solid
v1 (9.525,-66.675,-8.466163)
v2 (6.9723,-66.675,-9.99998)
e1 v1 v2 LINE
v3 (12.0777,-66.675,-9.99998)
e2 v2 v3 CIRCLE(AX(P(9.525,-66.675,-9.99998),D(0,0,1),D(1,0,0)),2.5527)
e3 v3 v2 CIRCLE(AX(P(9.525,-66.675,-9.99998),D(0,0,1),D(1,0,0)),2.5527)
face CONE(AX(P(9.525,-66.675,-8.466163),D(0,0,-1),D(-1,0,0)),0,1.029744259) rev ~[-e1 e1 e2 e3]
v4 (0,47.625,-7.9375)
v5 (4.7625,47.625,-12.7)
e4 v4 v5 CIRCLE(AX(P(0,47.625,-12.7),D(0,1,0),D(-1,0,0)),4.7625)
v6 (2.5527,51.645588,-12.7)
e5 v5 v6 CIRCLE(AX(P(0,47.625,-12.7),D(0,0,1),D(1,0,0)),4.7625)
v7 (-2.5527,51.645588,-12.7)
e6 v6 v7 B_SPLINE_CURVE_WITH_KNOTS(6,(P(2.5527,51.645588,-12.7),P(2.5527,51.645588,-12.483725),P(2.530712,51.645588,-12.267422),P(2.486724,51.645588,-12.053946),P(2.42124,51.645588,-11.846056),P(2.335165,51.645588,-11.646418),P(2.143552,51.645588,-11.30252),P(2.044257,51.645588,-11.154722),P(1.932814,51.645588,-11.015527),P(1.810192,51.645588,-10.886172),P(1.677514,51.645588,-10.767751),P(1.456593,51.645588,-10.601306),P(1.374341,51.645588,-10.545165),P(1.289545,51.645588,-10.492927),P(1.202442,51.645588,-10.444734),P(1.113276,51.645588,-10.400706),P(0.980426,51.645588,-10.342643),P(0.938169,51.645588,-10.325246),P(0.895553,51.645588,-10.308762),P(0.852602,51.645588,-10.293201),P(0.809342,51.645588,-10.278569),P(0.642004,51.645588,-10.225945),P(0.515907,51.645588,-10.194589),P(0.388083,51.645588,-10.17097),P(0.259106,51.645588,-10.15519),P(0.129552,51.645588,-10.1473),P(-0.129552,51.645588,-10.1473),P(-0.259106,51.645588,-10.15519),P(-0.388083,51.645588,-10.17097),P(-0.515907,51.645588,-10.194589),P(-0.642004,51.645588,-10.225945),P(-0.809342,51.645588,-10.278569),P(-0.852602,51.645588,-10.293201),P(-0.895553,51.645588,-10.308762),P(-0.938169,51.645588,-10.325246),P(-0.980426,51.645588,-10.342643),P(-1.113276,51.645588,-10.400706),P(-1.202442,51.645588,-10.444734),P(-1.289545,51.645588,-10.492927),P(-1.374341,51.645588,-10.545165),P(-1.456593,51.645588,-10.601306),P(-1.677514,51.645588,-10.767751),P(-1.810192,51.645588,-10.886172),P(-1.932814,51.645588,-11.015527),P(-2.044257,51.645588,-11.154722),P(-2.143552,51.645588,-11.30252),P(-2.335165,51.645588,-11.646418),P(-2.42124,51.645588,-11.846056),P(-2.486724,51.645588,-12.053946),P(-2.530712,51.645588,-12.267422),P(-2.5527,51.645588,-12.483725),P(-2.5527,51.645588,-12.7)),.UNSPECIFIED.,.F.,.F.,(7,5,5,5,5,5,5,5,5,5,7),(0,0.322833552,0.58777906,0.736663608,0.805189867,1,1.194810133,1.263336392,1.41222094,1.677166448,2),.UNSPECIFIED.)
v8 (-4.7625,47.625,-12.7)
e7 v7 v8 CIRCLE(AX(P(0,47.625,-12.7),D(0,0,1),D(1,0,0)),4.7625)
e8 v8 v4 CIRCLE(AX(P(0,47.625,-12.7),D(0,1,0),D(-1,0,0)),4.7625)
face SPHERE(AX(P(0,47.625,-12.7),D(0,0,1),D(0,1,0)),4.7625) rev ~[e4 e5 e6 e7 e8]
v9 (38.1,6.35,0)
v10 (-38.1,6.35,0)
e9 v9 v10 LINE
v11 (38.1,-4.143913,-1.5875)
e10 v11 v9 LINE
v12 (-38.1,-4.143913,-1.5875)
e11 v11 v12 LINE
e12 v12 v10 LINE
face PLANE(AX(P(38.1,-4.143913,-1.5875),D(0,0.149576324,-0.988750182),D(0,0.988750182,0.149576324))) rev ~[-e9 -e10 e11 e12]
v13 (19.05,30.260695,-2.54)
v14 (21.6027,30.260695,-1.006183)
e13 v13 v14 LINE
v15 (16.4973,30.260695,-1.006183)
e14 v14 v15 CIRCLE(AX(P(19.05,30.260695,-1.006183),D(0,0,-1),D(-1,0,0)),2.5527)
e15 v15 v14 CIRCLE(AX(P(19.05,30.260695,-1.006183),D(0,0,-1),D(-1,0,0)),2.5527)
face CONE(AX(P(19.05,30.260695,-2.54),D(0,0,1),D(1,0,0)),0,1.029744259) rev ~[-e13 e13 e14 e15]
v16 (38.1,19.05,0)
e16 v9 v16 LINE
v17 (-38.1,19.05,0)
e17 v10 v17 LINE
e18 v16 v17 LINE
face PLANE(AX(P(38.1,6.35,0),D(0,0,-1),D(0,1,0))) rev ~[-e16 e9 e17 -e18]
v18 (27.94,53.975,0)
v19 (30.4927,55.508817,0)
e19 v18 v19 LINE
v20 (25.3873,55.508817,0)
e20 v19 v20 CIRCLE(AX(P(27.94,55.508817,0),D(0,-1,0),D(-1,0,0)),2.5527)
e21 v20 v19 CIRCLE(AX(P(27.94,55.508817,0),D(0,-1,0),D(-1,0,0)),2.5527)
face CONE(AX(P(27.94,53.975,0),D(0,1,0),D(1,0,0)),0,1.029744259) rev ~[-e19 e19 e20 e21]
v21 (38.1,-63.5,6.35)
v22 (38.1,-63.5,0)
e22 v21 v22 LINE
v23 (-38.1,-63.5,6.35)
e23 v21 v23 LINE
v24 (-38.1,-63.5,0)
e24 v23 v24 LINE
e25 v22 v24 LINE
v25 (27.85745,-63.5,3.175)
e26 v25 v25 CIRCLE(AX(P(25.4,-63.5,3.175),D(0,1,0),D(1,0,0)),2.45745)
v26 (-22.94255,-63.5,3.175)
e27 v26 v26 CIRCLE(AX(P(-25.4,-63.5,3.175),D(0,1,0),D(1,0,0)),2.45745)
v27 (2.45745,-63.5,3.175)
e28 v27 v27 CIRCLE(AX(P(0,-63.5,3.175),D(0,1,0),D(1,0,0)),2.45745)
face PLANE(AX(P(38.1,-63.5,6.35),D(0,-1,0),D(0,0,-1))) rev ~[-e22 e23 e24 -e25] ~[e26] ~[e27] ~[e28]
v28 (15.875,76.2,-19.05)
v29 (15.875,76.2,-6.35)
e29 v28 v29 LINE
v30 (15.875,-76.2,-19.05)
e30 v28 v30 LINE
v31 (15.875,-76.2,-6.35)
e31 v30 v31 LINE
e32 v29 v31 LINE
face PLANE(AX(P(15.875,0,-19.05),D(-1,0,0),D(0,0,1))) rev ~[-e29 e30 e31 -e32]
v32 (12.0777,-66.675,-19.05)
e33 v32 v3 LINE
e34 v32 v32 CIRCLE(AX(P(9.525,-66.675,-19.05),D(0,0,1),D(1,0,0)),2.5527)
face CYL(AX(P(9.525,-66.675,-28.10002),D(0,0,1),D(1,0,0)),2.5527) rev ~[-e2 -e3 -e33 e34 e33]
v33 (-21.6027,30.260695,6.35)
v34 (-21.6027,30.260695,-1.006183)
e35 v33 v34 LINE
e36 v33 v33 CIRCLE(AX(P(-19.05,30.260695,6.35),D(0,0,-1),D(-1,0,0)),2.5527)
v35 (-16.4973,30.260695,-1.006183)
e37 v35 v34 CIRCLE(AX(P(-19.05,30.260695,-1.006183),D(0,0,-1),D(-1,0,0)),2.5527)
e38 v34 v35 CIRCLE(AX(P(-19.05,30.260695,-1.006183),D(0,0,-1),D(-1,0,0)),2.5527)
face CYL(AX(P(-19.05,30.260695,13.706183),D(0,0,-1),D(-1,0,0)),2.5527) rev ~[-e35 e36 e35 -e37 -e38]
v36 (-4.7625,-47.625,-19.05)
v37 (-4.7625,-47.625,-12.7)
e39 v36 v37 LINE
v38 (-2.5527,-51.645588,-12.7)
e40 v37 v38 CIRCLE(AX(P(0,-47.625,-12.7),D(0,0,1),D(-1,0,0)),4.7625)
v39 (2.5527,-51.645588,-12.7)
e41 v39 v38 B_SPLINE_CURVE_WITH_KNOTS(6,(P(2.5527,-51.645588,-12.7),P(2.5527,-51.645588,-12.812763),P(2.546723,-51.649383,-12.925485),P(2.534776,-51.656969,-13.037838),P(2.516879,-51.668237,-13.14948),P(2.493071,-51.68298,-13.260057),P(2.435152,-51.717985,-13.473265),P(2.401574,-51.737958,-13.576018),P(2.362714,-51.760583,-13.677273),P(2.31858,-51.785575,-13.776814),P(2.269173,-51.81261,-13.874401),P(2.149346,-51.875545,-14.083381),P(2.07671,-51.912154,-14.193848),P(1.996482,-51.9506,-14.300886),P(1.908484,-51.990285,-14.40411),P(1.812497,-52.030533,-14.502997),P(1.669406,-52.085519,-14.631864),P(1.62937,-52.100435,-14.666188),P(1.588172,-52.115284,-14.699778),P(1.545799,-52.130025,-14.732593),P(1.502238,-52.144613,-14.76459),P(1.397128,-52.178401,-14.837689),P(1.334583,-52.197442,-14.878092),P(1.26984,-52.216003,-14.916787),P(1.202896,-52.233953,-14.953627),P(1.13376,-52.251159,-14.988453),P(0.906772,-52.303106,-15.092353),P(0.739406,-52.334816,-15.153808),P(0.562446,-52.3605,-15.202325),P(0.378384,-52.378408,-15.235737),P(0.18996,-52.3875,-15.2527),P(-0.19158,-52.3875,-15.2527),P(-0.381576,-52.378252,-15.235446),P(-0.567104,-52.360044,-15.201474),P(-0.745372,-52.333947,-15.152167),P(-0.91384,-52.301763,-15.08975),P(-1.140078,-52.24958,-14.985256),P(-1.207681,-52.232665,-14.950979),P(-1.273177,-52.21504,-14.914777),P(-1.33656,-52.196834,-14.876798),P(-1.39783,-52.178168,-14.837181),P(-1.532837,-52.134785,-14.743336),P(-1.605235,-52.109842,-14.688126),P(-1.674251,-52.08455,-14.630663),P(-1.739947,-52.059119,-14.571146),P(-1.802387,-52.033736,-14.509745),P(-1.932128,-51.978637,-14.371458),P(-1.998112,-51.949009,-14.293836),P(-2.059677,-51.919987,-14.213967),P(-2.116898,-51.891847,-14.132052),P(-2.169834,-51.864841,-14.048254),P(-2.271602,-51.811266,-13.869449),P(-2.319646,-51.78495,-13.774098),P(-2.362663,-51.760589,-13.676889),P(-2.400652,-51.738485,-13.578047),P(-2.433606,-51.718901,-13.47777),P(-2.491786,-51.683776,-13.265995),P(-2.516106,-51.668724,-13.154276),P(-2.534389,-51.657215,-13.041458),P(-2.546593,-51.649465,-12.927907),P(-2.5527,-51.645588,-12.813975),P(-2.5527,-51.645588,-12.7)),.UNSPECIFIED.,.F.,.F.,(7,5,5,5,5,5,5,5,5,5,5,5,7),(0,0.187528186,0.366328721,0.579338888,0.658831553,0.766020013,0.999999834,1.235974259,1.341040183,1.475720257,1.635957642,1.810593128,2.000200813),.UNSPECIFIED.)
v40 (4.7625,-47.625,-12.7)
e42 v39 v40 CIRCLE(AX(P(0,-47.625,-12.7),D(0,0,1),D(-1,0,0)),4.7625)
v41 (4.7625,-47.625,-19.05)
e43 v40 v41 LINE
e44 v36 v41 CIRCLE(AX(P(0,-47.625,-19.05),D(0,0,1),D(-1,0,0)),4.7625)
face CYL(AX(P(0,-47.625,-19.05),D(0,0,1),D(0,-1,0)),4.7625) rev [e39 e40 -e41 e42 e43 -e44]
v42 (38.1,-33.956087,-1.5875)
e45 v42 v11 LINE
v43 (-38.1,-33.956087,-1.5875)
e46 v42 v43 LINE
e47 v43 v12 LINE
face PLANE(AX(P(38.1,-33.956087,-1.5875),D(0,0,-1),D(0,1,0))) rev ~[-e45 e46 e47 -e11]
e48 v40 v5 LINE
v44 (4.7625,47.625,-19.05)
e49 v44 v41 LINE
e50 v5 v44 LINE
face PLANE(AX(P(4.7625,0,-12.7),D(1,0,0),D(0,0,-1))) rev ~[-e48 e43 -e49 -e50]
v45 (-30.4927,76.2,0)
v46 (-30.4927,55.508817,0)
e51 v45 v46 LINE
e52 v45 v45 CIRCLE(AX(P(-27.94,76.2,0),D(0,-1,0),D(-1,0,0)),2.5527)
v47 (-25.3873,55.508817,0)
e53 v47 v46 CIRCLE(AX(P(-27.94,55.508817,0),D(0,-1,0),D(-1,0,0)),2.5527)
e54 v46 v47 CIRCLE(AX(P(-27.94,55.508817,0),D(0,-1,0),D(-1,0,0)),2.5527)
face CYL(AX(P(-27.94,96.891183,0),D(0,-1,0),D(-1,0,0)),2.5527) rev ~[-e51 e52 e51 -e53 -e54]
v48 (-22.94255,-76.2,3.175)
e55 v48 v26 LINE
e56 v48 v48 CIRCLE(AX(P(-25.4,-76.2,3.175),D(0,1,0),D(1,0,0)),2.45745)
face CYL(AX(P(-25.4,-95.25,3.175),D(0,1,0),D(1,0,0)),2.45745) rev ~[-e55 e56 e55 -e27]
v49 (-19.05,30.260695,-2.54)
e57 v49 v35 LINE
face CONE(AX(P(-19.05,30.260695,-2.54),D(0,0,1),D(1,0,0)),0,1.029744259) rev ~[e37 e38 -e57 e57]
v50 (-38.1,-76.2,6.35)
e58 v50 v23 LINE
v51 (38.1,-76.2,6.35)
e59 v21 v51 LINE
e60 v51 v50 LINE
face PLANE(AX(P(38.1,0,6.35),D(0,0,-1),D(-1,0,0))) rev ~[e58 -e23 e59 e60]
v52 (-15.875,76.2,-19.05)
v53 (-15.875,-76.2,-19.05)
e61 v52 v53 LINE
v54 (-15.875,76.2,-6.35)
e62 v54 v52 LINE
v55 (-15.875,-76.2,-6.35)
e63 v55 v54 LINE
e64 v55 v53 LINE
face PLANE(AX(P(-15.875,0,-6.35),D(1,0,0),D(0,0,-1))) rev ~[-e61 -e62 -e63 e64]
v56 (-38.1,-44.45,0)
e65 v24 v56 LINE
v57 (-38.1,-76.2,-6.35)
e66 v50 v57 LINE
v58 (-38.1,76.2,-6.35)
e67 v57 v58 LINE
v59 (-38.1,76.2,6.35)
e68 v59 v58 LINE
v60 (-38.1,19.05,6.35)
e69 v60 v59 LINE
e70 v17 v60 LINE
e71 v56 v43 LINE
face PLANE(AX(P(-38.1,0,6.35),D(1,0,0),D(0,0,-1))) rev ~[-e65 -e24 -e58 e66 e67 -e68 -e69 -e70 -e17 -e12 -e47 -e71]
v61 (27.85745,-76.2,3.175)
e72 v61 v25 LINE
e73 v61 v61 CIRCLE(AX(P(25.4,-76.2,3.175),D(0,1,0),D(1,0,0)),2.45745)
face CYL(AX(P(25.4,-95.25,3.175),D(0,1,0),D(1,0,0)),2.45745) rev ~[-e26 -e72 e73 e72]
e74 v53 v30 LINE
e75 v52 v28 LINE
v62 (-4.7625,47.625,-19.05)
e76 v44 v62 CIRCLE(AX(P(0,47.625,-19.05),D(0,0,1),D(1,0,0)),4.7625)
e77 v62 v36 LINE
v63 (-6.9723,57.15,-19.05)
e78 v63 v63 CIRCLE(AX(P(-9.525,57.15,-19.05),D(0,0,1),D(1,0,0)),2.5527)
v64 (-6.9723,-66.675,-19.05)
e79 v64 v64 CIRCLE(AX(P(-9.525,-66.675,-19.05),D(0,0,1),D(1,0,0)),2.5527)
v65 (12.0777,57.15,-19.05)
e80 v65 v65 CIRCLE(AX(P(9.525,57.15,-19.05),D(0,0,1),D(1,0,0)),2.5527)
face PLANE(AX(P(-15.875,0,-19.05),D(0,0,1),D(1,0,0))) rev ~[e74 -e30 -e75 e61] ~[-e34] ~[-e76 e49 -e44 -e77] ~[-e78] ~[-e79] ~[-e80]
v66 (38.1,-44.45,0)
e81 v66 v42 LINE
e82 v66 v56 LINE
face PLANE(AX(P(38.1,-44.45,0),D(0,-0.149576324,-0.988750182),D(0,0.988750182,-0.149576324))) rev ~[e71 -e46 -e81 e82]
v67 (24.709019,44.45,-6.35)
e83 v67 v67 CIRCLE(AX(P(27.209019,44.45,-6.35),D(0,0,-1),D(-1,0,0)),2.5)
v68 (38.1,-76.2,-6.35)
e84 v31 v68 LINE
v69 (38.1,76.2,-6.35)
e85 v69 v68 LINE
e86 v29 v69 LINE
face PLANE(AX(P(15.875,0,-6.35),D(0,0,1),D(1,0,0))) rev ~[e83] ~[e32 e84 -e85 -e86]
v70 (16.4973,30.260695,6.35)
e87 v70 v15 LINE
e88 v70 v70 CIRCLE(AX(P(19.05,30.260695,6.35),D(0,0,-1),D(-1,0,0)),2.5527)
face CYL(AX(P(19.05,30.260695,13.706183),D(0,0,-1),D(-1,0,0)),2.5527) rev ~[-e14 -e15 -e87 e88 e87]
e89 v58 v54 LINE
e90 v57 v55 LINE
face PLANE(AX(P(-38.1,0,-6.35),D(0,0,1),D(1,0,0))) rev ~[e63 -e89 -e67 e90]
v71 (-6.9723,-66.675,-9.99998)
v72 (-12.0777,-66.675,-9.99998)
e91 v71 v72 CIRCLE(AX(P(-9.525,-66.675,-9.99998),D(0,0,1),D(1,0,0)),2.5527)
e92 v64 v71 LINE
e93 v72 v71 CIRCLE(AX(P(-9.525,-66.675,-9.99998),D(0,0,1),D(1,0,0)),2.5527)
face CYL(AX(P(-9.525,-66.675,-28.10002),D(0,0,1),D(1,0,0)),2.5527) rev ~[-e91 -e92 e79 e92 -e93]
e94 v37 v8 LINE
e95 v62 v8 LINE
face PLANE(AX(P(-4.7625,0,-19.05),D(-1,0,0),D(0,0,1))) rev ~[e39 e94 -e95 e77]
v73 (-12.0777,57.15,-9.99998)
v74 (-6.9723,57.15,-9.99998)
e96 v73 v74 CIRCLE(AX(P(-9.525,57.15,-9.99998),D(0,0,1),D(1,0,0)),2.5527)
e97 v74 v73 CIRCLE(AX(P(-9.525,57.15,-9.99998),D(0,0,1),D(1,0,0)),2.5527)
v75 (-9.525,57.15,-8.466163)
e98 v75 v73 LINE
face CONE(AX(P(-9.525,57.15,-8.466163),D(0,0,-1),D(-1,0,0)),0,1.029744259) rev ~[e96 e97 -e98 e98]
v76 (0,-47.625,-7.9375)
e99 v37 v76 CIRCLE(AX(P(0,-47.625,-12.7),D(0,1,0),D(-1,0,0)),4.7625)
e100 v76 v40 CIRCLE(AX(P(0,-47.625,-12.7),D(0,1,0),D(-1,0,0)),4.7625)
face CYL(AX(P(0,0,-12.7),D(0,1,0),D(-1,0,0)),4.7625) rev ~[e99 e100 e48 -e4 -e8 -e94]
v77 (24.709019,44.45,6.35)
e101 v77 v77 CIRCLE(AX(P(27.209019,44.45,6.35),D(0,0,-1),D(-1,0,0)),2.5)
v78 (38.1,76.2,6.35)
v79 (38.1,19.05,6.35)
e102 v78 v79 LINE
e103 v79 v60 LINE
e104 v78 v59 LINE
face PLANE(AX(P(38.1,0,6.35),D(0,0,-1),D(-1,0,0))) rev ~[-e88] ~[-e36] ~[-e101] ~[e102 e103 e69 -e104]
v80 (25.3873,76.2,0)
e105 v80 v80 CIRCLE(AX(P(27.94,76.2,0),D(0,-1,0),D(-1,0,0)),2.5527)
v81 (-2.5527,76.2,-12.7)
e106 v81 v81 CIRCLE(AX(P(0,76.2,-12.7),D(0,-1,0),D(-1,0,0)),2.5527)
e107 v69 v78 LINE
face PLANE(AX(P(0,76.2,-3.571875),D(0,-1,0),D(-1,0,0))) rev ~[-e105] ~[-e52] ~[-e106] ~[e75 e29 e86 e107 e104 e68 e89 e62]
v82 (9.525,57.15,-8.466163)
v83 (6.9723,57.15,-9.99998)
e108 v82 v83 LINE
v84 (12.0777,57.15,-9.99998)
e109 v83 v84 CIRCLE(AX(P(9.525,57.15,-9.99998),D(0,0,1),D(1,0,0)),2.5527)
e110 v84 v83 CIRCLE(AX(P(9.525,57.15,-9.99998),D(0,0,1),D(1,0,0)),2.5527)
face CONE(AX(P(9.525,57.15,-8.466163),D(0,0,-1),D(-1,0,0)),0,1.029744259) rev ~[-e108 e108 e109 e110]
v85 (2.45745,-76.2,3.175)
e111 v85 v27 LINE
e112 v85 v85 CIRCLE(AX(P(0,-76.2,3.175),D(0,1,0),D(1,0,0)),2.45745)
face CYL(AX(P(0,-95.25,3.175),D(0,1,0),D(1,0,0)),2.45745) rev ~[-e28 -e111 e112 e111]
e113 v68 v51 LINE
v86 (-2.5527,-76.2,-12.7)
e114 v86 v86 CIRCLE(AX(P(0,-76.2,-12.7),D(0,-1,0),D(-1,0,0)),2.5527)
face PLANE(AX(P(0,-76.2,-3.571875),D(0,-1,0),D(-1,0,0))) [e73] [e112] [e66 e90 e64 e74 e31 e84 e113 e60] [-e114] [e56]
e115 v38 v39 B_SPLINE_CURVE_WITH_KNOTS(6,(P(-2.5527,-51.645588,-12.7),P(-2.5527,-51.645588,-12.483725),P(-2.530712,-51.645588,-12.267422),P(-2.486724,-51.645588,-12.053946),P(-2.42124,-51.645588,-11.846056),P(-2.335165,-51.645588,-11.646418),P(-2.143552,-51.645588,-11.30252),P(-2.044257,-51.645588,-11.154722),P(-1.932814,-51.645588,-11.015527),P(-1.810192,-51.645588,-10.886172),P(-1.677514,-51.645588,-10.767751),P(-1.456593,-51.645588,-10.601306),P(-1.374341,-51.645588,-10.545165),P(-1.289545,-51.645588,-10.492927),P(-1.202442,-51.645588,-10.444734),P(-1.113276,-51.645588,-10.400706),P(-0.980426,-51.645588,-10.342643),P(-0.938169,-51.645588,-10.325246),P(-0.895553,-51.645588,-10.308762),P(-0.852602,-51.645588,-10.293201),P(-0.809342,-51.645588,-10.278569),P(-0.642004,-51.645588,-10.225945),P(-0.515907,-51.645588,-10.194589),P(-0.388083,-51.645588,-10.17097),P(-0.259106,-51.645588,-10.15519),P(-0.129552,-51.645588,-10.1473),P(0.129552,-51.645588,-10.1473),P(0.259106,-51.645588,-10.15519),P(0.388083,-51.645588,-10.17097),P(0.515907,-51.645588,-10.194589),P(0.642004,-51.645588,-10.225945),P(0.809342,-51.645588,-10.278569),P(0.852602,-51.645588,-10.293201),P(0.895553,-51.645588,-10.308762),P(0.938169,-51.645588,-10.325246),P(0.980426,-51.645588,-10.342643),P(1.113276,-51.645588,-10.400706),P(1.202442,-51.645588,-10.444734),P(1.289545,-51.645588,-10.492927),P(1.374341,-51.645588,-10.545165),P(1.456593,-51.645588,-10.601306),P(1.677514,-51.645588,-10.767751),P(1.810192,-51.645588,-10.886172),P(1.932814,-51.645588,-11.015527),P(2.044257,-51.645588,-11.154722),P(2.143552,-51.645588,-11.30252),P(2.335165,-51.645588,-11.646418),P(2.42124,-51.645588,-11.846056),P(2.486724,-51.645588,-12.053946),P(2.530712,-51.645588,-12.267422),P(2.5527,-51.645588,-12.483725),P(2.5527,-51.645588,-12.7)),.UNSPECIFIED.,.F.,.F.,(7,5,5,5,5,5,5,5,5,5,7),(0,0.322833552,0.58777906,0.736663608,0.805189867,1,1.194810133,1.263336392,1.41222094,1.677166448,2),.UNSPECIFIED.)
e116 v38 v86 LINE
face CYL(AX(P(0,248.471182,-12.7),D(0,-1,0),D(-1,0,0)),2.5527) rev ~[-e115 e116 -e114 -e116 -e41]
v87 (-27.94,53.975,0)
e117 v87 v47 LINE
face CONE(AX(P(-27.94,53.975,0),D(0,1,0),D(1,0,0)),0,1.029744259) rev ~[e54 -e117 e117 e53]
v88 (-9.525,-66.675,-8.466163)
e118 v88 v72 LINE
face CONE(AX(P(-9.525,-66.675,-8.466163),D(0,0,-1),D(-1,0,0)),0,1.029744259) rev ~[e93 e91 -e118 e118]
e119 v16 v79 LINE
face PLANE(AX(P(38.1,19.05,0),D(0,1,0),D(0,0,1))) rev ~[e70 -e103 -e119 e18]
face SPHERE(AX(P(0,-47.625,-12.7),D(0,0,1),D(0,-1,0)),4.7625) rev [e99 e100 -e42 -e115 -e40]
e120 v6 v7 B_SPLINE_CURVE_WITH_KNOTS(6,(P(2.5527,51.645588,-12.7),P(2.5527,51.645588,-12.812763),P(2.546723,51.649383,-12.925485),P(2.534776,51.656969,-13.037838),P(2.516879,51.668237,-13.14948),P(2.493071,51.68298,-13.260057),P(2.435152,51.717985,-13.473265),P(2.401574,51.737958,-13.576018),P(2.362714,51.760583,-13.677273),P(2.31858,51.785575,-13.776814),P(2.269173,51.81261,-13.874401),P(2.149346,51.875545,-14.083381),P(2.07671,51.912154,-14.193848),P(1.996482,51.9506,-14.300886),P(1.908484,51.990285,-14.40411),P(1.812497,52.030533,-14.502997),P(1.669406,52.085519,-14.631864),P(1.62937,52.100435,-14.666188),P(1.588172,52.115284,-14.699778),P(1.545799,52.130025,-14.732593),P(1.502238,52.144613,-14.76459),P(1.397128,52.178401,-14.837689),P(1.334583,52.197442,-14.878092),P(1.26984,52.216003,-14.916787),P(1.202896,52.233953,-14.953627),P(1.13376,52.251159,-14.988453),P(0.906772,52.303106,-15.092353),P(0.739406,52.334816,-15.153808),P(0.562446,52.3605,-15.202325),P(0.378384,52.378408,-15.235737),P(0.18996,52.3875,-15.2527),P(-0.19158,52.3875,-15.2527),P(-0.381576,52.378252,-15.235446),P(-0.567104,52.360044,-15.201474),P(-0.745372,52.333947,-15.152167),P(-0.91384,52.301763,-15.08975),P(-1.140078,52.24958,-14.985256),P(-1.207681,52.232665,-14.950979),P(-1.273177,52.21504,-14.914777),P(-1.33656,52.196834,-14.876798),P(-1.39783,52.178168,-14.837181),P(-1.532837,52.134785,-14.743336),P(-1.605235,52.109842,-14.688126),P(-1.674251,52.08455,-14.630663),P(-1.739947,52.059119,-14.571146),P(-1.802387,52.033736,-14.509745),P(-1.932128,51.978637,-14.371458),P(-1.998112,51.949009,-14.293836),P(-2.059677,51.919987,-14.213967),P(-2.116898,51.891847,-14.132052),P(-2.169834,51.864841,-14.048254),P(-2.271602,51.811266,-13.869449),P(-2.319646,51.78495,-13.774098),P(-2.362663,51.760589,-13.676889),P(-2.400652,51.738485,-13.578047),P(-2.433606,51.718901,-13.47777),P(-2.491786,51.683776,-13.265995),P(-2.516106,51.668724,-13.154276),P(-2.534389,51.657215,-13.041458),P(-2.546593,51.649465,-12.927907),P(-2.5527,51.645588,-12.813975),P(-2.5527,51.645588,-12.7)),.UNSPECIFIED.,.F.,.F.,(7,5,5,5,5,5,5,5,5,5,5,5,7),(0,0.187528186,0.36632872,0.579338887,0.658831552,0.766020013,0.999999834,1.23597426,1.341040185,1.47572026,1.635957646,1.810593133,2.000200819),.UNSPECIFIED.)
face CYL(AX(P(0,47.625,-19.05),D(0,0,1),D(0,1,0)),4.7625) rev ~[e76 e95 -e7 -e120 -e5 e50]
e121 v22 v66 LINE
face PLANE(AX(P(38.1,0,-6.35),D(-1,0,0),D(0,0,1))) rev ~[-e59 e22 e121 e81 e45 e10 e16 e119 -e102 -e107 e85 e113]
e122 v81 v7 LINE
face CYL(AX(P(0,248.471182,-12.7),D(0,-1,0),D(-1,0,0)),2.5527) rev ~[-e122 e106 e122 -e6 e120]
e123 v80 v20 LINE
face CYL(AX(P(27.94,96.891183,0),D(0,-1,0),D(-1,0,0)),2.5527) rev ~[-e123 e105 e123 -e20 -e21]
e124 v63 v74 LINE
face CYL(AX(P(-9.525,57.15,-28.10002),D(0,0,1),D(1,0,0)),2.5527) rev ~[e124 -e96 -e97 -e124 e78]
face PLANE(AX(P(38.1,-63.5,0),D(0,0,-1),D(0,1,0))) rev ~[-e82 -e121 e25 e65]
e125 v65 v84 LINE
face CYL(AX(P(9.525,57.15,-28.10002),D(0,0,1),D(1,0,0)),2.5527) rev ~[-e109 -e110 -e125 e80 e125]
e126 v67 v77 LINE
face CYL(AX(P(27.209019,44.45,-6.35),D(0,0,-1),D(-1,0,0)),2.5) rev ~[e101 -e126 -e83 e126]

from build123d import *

# Parameters (mm, degrees)
BOSS_EXTRUDE1_DEPTH              = 76.2
CUT_EXTRUDE3_DEPTH               = 47.625
CUT_EXTRUDE4_DEPTH               = 110.433918417
F_10_0_1935_DIAMETER_HOLE1_D     = 4.9149
F_10_0_1935_DIAMETER_HOLE1_DEPTH = 19.05
F_10_0_1935_DIAMETER_HOLE1_TIP   = 1.476584928
F_1_4_20_TAPPED_HOLE1_D          = 5.1054
SKETCH19_R                       = 2.499999953
CUT_EXTRUDE5_DEPTH               = 87.135590889
F_1_4_20_TAPPED_HOLE2_D          = 5.1054
F_1_4_20_TAPPED_HOLE2_DEPTH      = 20.691183098
F_1_4_20_TAPPED_HOLE2_TIP        = 1.533816902
F_1_4_20_TAPPED_HOLE3_D          = 5.1054
F_1_4_20_TAPPED_HOLE3_DEPTH      = 9.05002
F_1_4_20_TAPPED_HOLE3_TIP        = 1.533816902
F_1_4_20_TAPPED_HOLE4_D          = 5.1054
F_1_4_20_TAPPED_HOLE4_DEPTH      = 7.356183098
F_1_4_20_TAPPED_HOLE4_TIP        = 1.533816902


with BuildPart() as part:
    # Sketch1 → Boss-Extrude1 (new, symmetric)
    with BuildSketch(Plane(origin=(0, 0, 0), x_dir=(1, 0, 0), z_dir=(0, 1, 0))):
        Polygon((-15.875, 6.35), (-15.875, 19.05), (15.875, 19.05), (15.875, 6.35), (38.1, 6.35), (38.1, -6.35), (-38.1, -6.35), (-38.1, 6.35), align=None)
    extrude(amount=BOSS_EXTRUDE1_DEPTH, both=True)

    # Sketch5 → Cut-Extrude3 (cut, symmetric)
    with BuildSketch(Plane(origin=(0, 0, 0), x_dir=(1, 0, 0), z_dir=(0, 1, 0))):
        with BuildLine():
            Line((-4.7625, 19.05), (-4.7625, 12.7))
            ThreePointArc((-4.7625, 12.7), (0, 7.9375), (4.7625, 12.7))
            Line((4.7625, 12.7), (4.7625, 19.05))
            Line((4.7625, 19.05), (-4.7625, 19.05))
        make_face()
    extrude(amount=CUT_EXTRUDE3_DEPTH, both=True, mode=Mode.SUBTRACT)

    # Sketch9 → Cut-Revolve1 (revolve, cut)
    with BuildSketch(Plane(origin=(0, 0, 0), x_dir=(0, 0, -1), z_dir=(1, 0, 0))):
        with BuildLine():
            Line((19.05, -52.3875), (12.7, -52.3875))
            ThreePointArc((12.7, -52.3875), (9.332403955, -50.992596045), (7.9375, -47.625))
            Line((7.9375, -47.625), (19.05, -47.625))
            Line((19.05, -47.625), (19.05, -52.3875))
        make_face()
    cut_revolve1 = revolve(axis=Axis((0, -47.625, -7.9375), (0, 0, -1)), mode=Mode.SUBTRACT)

    # Mirror1: Cut-Revolve1 across plane
    add(cut_revolve1.mirror(Plane.ZX), mode=Mode.SUBTRACT)

    # Sketch12 → Cut-Extrude4 (cut, through all)
    with BuildSketch(Plane(origin=(38.1, 0, 0), x_dir=(0, 0, -1), z_dir=(1, 0, 0))):
        Polygon((-6.35, -63.5), (0, -63.5), (0, -44.45), (1.5875, -33.956087115), (1.5875, -4.143912885), (0, 6.35), (0, 19.05), (-6.35, 19.05), align=None)
    extrude(amount=-CUT_EXTRUDE4_DEPTH, mode=Mode.SUBTRACT)

    # #10 (0.1935) Diameter Hole1
    with Locations(Plane(origin=(0, -76.2, 0), x_dir=(-1, 0, 0), z_dir=(0, -1, 0))):
        with Locations((25.4, -3.175), (-25.4, -3.175), (0, -3.175)):
            Hole(F_10_0_1935_DIAMETER_HOLE1_D / 2, depth=F_10_0_1935_DIAMETER_HOLE1_DEPTH)
            with Locations((0, 0, -(F_10_0_1935_DIAMETER_HOLE1_DEPTH + F_10_0_1935_DIAMETER_HOLE1_TIP / 2))):  # 118° drill point
                Cone(0, F_10_0_1935_DIAMETER_HOLE1_D / 2, F_10_0_1935_DIAMETER_HOLE1_TIP, mode=Mode.SUBTRACT)

    # 1/4-20 Tapped Hole1 (through all)
    with Locations(Plane(origin=(0, 76.2, 0), x_dir=(1, 0, 0), z_dir=(0, 1, 0))):
        with Locations((0, 12.7)):
            Hole(F_1_4_20_TAPPED_HOLE1_D / 2)

    # Sketch19 → Cut-Extrude5 (cut, through all)
    with BuildSketch(Plane(origin=(0, 0, -6.35), x_dir=(-1, 0, 0), z_dir=(0, 0, -1))):
        with Locations((-27.209019229, 44.45)):
            Circle(SKETCH19_R)
    extrude(amount=-CUT_EXTRUDE5_DEPTH, mode=Mode.SUBTRACT)

    # 1/4-20 Tapped Hole2
    with Locations(Plane(origin=(0, 76.2, 0), x_dir=(1, 0, 0), z_dir=(0, 1, 0))):
        with Locations((27.94, 0), (-27.94, 0)):
            Hole(F_1_4_20_TAPPED_HOLE2_D / 2, depth=F_1_4_20_TAPPED_HOLE2_DEPTH)
            with Locations((0, 0, -(F_1_4_20_TAPPED_HOLE2_DEPTH + F_1_4_20_TAPPED_HOLE2_TIP / 2))):  # 118° drill point
                Cone(0, F_1_4_20_TAPPED_HOLE2_D / 2, F_1_4_20_TAPPED_HOLE2_TIP, mode=Mode.SUBTRACT)

    # 1/4-20 Tapped Hole3
    with Locations(Plane(origin=(0, 0, -19.05), x_dir=(-1, 0, 0), z_dir=(0, 0, -1))):
        with Locations((-9.525, -66.675), (9.525, 57.15), (-9.525, 57.15), (9.525, -66.675)):
            Hole(F_1_4_20_TAPPED_HOLE3_D / 2, depth=F_1_4_20_TAPPED_HOLE3_DEPTH)
            with Locations((0, 0, -(F_1_4_20_TAPPED_HOLE3_DEPTH + F_1_4_20_TAPPED_HOLE3_TIP / 2))):  # 118° drill point
                Cone(0, F_1_4_20_TAPPED_HOLE3_D / 2, F_1_4_20_TAPPED_HOLE3_TIP, mode=Mode.SUBTRACT)

    # 1/4-20 Tapped Hole4
    with Locations(Plane.XY.offset(6.35)):
        with Locations((19.05, 30.260695081), (-19.05, 30.260695081)):
            Hole(F_1_4_20_TAPPED_HOLE4_D / 2, depth=F_1_4_20_TAPPED_HOLE4_DEPTH)
            with Locations((0, 0, -(F_1_4_20_TAPPED_HOLE4_DEPTH + F_1_4_20_TAPPED_HOLE4_TIP / 2))):  # 118° drill point
                Cone(0, F_1_4_20_TAPPED_HOLE4_D / 2, F_1_4_20_TAPPED_HOLE4_TIP, mode=Mode.SUBTRACT)


solid = part.part
